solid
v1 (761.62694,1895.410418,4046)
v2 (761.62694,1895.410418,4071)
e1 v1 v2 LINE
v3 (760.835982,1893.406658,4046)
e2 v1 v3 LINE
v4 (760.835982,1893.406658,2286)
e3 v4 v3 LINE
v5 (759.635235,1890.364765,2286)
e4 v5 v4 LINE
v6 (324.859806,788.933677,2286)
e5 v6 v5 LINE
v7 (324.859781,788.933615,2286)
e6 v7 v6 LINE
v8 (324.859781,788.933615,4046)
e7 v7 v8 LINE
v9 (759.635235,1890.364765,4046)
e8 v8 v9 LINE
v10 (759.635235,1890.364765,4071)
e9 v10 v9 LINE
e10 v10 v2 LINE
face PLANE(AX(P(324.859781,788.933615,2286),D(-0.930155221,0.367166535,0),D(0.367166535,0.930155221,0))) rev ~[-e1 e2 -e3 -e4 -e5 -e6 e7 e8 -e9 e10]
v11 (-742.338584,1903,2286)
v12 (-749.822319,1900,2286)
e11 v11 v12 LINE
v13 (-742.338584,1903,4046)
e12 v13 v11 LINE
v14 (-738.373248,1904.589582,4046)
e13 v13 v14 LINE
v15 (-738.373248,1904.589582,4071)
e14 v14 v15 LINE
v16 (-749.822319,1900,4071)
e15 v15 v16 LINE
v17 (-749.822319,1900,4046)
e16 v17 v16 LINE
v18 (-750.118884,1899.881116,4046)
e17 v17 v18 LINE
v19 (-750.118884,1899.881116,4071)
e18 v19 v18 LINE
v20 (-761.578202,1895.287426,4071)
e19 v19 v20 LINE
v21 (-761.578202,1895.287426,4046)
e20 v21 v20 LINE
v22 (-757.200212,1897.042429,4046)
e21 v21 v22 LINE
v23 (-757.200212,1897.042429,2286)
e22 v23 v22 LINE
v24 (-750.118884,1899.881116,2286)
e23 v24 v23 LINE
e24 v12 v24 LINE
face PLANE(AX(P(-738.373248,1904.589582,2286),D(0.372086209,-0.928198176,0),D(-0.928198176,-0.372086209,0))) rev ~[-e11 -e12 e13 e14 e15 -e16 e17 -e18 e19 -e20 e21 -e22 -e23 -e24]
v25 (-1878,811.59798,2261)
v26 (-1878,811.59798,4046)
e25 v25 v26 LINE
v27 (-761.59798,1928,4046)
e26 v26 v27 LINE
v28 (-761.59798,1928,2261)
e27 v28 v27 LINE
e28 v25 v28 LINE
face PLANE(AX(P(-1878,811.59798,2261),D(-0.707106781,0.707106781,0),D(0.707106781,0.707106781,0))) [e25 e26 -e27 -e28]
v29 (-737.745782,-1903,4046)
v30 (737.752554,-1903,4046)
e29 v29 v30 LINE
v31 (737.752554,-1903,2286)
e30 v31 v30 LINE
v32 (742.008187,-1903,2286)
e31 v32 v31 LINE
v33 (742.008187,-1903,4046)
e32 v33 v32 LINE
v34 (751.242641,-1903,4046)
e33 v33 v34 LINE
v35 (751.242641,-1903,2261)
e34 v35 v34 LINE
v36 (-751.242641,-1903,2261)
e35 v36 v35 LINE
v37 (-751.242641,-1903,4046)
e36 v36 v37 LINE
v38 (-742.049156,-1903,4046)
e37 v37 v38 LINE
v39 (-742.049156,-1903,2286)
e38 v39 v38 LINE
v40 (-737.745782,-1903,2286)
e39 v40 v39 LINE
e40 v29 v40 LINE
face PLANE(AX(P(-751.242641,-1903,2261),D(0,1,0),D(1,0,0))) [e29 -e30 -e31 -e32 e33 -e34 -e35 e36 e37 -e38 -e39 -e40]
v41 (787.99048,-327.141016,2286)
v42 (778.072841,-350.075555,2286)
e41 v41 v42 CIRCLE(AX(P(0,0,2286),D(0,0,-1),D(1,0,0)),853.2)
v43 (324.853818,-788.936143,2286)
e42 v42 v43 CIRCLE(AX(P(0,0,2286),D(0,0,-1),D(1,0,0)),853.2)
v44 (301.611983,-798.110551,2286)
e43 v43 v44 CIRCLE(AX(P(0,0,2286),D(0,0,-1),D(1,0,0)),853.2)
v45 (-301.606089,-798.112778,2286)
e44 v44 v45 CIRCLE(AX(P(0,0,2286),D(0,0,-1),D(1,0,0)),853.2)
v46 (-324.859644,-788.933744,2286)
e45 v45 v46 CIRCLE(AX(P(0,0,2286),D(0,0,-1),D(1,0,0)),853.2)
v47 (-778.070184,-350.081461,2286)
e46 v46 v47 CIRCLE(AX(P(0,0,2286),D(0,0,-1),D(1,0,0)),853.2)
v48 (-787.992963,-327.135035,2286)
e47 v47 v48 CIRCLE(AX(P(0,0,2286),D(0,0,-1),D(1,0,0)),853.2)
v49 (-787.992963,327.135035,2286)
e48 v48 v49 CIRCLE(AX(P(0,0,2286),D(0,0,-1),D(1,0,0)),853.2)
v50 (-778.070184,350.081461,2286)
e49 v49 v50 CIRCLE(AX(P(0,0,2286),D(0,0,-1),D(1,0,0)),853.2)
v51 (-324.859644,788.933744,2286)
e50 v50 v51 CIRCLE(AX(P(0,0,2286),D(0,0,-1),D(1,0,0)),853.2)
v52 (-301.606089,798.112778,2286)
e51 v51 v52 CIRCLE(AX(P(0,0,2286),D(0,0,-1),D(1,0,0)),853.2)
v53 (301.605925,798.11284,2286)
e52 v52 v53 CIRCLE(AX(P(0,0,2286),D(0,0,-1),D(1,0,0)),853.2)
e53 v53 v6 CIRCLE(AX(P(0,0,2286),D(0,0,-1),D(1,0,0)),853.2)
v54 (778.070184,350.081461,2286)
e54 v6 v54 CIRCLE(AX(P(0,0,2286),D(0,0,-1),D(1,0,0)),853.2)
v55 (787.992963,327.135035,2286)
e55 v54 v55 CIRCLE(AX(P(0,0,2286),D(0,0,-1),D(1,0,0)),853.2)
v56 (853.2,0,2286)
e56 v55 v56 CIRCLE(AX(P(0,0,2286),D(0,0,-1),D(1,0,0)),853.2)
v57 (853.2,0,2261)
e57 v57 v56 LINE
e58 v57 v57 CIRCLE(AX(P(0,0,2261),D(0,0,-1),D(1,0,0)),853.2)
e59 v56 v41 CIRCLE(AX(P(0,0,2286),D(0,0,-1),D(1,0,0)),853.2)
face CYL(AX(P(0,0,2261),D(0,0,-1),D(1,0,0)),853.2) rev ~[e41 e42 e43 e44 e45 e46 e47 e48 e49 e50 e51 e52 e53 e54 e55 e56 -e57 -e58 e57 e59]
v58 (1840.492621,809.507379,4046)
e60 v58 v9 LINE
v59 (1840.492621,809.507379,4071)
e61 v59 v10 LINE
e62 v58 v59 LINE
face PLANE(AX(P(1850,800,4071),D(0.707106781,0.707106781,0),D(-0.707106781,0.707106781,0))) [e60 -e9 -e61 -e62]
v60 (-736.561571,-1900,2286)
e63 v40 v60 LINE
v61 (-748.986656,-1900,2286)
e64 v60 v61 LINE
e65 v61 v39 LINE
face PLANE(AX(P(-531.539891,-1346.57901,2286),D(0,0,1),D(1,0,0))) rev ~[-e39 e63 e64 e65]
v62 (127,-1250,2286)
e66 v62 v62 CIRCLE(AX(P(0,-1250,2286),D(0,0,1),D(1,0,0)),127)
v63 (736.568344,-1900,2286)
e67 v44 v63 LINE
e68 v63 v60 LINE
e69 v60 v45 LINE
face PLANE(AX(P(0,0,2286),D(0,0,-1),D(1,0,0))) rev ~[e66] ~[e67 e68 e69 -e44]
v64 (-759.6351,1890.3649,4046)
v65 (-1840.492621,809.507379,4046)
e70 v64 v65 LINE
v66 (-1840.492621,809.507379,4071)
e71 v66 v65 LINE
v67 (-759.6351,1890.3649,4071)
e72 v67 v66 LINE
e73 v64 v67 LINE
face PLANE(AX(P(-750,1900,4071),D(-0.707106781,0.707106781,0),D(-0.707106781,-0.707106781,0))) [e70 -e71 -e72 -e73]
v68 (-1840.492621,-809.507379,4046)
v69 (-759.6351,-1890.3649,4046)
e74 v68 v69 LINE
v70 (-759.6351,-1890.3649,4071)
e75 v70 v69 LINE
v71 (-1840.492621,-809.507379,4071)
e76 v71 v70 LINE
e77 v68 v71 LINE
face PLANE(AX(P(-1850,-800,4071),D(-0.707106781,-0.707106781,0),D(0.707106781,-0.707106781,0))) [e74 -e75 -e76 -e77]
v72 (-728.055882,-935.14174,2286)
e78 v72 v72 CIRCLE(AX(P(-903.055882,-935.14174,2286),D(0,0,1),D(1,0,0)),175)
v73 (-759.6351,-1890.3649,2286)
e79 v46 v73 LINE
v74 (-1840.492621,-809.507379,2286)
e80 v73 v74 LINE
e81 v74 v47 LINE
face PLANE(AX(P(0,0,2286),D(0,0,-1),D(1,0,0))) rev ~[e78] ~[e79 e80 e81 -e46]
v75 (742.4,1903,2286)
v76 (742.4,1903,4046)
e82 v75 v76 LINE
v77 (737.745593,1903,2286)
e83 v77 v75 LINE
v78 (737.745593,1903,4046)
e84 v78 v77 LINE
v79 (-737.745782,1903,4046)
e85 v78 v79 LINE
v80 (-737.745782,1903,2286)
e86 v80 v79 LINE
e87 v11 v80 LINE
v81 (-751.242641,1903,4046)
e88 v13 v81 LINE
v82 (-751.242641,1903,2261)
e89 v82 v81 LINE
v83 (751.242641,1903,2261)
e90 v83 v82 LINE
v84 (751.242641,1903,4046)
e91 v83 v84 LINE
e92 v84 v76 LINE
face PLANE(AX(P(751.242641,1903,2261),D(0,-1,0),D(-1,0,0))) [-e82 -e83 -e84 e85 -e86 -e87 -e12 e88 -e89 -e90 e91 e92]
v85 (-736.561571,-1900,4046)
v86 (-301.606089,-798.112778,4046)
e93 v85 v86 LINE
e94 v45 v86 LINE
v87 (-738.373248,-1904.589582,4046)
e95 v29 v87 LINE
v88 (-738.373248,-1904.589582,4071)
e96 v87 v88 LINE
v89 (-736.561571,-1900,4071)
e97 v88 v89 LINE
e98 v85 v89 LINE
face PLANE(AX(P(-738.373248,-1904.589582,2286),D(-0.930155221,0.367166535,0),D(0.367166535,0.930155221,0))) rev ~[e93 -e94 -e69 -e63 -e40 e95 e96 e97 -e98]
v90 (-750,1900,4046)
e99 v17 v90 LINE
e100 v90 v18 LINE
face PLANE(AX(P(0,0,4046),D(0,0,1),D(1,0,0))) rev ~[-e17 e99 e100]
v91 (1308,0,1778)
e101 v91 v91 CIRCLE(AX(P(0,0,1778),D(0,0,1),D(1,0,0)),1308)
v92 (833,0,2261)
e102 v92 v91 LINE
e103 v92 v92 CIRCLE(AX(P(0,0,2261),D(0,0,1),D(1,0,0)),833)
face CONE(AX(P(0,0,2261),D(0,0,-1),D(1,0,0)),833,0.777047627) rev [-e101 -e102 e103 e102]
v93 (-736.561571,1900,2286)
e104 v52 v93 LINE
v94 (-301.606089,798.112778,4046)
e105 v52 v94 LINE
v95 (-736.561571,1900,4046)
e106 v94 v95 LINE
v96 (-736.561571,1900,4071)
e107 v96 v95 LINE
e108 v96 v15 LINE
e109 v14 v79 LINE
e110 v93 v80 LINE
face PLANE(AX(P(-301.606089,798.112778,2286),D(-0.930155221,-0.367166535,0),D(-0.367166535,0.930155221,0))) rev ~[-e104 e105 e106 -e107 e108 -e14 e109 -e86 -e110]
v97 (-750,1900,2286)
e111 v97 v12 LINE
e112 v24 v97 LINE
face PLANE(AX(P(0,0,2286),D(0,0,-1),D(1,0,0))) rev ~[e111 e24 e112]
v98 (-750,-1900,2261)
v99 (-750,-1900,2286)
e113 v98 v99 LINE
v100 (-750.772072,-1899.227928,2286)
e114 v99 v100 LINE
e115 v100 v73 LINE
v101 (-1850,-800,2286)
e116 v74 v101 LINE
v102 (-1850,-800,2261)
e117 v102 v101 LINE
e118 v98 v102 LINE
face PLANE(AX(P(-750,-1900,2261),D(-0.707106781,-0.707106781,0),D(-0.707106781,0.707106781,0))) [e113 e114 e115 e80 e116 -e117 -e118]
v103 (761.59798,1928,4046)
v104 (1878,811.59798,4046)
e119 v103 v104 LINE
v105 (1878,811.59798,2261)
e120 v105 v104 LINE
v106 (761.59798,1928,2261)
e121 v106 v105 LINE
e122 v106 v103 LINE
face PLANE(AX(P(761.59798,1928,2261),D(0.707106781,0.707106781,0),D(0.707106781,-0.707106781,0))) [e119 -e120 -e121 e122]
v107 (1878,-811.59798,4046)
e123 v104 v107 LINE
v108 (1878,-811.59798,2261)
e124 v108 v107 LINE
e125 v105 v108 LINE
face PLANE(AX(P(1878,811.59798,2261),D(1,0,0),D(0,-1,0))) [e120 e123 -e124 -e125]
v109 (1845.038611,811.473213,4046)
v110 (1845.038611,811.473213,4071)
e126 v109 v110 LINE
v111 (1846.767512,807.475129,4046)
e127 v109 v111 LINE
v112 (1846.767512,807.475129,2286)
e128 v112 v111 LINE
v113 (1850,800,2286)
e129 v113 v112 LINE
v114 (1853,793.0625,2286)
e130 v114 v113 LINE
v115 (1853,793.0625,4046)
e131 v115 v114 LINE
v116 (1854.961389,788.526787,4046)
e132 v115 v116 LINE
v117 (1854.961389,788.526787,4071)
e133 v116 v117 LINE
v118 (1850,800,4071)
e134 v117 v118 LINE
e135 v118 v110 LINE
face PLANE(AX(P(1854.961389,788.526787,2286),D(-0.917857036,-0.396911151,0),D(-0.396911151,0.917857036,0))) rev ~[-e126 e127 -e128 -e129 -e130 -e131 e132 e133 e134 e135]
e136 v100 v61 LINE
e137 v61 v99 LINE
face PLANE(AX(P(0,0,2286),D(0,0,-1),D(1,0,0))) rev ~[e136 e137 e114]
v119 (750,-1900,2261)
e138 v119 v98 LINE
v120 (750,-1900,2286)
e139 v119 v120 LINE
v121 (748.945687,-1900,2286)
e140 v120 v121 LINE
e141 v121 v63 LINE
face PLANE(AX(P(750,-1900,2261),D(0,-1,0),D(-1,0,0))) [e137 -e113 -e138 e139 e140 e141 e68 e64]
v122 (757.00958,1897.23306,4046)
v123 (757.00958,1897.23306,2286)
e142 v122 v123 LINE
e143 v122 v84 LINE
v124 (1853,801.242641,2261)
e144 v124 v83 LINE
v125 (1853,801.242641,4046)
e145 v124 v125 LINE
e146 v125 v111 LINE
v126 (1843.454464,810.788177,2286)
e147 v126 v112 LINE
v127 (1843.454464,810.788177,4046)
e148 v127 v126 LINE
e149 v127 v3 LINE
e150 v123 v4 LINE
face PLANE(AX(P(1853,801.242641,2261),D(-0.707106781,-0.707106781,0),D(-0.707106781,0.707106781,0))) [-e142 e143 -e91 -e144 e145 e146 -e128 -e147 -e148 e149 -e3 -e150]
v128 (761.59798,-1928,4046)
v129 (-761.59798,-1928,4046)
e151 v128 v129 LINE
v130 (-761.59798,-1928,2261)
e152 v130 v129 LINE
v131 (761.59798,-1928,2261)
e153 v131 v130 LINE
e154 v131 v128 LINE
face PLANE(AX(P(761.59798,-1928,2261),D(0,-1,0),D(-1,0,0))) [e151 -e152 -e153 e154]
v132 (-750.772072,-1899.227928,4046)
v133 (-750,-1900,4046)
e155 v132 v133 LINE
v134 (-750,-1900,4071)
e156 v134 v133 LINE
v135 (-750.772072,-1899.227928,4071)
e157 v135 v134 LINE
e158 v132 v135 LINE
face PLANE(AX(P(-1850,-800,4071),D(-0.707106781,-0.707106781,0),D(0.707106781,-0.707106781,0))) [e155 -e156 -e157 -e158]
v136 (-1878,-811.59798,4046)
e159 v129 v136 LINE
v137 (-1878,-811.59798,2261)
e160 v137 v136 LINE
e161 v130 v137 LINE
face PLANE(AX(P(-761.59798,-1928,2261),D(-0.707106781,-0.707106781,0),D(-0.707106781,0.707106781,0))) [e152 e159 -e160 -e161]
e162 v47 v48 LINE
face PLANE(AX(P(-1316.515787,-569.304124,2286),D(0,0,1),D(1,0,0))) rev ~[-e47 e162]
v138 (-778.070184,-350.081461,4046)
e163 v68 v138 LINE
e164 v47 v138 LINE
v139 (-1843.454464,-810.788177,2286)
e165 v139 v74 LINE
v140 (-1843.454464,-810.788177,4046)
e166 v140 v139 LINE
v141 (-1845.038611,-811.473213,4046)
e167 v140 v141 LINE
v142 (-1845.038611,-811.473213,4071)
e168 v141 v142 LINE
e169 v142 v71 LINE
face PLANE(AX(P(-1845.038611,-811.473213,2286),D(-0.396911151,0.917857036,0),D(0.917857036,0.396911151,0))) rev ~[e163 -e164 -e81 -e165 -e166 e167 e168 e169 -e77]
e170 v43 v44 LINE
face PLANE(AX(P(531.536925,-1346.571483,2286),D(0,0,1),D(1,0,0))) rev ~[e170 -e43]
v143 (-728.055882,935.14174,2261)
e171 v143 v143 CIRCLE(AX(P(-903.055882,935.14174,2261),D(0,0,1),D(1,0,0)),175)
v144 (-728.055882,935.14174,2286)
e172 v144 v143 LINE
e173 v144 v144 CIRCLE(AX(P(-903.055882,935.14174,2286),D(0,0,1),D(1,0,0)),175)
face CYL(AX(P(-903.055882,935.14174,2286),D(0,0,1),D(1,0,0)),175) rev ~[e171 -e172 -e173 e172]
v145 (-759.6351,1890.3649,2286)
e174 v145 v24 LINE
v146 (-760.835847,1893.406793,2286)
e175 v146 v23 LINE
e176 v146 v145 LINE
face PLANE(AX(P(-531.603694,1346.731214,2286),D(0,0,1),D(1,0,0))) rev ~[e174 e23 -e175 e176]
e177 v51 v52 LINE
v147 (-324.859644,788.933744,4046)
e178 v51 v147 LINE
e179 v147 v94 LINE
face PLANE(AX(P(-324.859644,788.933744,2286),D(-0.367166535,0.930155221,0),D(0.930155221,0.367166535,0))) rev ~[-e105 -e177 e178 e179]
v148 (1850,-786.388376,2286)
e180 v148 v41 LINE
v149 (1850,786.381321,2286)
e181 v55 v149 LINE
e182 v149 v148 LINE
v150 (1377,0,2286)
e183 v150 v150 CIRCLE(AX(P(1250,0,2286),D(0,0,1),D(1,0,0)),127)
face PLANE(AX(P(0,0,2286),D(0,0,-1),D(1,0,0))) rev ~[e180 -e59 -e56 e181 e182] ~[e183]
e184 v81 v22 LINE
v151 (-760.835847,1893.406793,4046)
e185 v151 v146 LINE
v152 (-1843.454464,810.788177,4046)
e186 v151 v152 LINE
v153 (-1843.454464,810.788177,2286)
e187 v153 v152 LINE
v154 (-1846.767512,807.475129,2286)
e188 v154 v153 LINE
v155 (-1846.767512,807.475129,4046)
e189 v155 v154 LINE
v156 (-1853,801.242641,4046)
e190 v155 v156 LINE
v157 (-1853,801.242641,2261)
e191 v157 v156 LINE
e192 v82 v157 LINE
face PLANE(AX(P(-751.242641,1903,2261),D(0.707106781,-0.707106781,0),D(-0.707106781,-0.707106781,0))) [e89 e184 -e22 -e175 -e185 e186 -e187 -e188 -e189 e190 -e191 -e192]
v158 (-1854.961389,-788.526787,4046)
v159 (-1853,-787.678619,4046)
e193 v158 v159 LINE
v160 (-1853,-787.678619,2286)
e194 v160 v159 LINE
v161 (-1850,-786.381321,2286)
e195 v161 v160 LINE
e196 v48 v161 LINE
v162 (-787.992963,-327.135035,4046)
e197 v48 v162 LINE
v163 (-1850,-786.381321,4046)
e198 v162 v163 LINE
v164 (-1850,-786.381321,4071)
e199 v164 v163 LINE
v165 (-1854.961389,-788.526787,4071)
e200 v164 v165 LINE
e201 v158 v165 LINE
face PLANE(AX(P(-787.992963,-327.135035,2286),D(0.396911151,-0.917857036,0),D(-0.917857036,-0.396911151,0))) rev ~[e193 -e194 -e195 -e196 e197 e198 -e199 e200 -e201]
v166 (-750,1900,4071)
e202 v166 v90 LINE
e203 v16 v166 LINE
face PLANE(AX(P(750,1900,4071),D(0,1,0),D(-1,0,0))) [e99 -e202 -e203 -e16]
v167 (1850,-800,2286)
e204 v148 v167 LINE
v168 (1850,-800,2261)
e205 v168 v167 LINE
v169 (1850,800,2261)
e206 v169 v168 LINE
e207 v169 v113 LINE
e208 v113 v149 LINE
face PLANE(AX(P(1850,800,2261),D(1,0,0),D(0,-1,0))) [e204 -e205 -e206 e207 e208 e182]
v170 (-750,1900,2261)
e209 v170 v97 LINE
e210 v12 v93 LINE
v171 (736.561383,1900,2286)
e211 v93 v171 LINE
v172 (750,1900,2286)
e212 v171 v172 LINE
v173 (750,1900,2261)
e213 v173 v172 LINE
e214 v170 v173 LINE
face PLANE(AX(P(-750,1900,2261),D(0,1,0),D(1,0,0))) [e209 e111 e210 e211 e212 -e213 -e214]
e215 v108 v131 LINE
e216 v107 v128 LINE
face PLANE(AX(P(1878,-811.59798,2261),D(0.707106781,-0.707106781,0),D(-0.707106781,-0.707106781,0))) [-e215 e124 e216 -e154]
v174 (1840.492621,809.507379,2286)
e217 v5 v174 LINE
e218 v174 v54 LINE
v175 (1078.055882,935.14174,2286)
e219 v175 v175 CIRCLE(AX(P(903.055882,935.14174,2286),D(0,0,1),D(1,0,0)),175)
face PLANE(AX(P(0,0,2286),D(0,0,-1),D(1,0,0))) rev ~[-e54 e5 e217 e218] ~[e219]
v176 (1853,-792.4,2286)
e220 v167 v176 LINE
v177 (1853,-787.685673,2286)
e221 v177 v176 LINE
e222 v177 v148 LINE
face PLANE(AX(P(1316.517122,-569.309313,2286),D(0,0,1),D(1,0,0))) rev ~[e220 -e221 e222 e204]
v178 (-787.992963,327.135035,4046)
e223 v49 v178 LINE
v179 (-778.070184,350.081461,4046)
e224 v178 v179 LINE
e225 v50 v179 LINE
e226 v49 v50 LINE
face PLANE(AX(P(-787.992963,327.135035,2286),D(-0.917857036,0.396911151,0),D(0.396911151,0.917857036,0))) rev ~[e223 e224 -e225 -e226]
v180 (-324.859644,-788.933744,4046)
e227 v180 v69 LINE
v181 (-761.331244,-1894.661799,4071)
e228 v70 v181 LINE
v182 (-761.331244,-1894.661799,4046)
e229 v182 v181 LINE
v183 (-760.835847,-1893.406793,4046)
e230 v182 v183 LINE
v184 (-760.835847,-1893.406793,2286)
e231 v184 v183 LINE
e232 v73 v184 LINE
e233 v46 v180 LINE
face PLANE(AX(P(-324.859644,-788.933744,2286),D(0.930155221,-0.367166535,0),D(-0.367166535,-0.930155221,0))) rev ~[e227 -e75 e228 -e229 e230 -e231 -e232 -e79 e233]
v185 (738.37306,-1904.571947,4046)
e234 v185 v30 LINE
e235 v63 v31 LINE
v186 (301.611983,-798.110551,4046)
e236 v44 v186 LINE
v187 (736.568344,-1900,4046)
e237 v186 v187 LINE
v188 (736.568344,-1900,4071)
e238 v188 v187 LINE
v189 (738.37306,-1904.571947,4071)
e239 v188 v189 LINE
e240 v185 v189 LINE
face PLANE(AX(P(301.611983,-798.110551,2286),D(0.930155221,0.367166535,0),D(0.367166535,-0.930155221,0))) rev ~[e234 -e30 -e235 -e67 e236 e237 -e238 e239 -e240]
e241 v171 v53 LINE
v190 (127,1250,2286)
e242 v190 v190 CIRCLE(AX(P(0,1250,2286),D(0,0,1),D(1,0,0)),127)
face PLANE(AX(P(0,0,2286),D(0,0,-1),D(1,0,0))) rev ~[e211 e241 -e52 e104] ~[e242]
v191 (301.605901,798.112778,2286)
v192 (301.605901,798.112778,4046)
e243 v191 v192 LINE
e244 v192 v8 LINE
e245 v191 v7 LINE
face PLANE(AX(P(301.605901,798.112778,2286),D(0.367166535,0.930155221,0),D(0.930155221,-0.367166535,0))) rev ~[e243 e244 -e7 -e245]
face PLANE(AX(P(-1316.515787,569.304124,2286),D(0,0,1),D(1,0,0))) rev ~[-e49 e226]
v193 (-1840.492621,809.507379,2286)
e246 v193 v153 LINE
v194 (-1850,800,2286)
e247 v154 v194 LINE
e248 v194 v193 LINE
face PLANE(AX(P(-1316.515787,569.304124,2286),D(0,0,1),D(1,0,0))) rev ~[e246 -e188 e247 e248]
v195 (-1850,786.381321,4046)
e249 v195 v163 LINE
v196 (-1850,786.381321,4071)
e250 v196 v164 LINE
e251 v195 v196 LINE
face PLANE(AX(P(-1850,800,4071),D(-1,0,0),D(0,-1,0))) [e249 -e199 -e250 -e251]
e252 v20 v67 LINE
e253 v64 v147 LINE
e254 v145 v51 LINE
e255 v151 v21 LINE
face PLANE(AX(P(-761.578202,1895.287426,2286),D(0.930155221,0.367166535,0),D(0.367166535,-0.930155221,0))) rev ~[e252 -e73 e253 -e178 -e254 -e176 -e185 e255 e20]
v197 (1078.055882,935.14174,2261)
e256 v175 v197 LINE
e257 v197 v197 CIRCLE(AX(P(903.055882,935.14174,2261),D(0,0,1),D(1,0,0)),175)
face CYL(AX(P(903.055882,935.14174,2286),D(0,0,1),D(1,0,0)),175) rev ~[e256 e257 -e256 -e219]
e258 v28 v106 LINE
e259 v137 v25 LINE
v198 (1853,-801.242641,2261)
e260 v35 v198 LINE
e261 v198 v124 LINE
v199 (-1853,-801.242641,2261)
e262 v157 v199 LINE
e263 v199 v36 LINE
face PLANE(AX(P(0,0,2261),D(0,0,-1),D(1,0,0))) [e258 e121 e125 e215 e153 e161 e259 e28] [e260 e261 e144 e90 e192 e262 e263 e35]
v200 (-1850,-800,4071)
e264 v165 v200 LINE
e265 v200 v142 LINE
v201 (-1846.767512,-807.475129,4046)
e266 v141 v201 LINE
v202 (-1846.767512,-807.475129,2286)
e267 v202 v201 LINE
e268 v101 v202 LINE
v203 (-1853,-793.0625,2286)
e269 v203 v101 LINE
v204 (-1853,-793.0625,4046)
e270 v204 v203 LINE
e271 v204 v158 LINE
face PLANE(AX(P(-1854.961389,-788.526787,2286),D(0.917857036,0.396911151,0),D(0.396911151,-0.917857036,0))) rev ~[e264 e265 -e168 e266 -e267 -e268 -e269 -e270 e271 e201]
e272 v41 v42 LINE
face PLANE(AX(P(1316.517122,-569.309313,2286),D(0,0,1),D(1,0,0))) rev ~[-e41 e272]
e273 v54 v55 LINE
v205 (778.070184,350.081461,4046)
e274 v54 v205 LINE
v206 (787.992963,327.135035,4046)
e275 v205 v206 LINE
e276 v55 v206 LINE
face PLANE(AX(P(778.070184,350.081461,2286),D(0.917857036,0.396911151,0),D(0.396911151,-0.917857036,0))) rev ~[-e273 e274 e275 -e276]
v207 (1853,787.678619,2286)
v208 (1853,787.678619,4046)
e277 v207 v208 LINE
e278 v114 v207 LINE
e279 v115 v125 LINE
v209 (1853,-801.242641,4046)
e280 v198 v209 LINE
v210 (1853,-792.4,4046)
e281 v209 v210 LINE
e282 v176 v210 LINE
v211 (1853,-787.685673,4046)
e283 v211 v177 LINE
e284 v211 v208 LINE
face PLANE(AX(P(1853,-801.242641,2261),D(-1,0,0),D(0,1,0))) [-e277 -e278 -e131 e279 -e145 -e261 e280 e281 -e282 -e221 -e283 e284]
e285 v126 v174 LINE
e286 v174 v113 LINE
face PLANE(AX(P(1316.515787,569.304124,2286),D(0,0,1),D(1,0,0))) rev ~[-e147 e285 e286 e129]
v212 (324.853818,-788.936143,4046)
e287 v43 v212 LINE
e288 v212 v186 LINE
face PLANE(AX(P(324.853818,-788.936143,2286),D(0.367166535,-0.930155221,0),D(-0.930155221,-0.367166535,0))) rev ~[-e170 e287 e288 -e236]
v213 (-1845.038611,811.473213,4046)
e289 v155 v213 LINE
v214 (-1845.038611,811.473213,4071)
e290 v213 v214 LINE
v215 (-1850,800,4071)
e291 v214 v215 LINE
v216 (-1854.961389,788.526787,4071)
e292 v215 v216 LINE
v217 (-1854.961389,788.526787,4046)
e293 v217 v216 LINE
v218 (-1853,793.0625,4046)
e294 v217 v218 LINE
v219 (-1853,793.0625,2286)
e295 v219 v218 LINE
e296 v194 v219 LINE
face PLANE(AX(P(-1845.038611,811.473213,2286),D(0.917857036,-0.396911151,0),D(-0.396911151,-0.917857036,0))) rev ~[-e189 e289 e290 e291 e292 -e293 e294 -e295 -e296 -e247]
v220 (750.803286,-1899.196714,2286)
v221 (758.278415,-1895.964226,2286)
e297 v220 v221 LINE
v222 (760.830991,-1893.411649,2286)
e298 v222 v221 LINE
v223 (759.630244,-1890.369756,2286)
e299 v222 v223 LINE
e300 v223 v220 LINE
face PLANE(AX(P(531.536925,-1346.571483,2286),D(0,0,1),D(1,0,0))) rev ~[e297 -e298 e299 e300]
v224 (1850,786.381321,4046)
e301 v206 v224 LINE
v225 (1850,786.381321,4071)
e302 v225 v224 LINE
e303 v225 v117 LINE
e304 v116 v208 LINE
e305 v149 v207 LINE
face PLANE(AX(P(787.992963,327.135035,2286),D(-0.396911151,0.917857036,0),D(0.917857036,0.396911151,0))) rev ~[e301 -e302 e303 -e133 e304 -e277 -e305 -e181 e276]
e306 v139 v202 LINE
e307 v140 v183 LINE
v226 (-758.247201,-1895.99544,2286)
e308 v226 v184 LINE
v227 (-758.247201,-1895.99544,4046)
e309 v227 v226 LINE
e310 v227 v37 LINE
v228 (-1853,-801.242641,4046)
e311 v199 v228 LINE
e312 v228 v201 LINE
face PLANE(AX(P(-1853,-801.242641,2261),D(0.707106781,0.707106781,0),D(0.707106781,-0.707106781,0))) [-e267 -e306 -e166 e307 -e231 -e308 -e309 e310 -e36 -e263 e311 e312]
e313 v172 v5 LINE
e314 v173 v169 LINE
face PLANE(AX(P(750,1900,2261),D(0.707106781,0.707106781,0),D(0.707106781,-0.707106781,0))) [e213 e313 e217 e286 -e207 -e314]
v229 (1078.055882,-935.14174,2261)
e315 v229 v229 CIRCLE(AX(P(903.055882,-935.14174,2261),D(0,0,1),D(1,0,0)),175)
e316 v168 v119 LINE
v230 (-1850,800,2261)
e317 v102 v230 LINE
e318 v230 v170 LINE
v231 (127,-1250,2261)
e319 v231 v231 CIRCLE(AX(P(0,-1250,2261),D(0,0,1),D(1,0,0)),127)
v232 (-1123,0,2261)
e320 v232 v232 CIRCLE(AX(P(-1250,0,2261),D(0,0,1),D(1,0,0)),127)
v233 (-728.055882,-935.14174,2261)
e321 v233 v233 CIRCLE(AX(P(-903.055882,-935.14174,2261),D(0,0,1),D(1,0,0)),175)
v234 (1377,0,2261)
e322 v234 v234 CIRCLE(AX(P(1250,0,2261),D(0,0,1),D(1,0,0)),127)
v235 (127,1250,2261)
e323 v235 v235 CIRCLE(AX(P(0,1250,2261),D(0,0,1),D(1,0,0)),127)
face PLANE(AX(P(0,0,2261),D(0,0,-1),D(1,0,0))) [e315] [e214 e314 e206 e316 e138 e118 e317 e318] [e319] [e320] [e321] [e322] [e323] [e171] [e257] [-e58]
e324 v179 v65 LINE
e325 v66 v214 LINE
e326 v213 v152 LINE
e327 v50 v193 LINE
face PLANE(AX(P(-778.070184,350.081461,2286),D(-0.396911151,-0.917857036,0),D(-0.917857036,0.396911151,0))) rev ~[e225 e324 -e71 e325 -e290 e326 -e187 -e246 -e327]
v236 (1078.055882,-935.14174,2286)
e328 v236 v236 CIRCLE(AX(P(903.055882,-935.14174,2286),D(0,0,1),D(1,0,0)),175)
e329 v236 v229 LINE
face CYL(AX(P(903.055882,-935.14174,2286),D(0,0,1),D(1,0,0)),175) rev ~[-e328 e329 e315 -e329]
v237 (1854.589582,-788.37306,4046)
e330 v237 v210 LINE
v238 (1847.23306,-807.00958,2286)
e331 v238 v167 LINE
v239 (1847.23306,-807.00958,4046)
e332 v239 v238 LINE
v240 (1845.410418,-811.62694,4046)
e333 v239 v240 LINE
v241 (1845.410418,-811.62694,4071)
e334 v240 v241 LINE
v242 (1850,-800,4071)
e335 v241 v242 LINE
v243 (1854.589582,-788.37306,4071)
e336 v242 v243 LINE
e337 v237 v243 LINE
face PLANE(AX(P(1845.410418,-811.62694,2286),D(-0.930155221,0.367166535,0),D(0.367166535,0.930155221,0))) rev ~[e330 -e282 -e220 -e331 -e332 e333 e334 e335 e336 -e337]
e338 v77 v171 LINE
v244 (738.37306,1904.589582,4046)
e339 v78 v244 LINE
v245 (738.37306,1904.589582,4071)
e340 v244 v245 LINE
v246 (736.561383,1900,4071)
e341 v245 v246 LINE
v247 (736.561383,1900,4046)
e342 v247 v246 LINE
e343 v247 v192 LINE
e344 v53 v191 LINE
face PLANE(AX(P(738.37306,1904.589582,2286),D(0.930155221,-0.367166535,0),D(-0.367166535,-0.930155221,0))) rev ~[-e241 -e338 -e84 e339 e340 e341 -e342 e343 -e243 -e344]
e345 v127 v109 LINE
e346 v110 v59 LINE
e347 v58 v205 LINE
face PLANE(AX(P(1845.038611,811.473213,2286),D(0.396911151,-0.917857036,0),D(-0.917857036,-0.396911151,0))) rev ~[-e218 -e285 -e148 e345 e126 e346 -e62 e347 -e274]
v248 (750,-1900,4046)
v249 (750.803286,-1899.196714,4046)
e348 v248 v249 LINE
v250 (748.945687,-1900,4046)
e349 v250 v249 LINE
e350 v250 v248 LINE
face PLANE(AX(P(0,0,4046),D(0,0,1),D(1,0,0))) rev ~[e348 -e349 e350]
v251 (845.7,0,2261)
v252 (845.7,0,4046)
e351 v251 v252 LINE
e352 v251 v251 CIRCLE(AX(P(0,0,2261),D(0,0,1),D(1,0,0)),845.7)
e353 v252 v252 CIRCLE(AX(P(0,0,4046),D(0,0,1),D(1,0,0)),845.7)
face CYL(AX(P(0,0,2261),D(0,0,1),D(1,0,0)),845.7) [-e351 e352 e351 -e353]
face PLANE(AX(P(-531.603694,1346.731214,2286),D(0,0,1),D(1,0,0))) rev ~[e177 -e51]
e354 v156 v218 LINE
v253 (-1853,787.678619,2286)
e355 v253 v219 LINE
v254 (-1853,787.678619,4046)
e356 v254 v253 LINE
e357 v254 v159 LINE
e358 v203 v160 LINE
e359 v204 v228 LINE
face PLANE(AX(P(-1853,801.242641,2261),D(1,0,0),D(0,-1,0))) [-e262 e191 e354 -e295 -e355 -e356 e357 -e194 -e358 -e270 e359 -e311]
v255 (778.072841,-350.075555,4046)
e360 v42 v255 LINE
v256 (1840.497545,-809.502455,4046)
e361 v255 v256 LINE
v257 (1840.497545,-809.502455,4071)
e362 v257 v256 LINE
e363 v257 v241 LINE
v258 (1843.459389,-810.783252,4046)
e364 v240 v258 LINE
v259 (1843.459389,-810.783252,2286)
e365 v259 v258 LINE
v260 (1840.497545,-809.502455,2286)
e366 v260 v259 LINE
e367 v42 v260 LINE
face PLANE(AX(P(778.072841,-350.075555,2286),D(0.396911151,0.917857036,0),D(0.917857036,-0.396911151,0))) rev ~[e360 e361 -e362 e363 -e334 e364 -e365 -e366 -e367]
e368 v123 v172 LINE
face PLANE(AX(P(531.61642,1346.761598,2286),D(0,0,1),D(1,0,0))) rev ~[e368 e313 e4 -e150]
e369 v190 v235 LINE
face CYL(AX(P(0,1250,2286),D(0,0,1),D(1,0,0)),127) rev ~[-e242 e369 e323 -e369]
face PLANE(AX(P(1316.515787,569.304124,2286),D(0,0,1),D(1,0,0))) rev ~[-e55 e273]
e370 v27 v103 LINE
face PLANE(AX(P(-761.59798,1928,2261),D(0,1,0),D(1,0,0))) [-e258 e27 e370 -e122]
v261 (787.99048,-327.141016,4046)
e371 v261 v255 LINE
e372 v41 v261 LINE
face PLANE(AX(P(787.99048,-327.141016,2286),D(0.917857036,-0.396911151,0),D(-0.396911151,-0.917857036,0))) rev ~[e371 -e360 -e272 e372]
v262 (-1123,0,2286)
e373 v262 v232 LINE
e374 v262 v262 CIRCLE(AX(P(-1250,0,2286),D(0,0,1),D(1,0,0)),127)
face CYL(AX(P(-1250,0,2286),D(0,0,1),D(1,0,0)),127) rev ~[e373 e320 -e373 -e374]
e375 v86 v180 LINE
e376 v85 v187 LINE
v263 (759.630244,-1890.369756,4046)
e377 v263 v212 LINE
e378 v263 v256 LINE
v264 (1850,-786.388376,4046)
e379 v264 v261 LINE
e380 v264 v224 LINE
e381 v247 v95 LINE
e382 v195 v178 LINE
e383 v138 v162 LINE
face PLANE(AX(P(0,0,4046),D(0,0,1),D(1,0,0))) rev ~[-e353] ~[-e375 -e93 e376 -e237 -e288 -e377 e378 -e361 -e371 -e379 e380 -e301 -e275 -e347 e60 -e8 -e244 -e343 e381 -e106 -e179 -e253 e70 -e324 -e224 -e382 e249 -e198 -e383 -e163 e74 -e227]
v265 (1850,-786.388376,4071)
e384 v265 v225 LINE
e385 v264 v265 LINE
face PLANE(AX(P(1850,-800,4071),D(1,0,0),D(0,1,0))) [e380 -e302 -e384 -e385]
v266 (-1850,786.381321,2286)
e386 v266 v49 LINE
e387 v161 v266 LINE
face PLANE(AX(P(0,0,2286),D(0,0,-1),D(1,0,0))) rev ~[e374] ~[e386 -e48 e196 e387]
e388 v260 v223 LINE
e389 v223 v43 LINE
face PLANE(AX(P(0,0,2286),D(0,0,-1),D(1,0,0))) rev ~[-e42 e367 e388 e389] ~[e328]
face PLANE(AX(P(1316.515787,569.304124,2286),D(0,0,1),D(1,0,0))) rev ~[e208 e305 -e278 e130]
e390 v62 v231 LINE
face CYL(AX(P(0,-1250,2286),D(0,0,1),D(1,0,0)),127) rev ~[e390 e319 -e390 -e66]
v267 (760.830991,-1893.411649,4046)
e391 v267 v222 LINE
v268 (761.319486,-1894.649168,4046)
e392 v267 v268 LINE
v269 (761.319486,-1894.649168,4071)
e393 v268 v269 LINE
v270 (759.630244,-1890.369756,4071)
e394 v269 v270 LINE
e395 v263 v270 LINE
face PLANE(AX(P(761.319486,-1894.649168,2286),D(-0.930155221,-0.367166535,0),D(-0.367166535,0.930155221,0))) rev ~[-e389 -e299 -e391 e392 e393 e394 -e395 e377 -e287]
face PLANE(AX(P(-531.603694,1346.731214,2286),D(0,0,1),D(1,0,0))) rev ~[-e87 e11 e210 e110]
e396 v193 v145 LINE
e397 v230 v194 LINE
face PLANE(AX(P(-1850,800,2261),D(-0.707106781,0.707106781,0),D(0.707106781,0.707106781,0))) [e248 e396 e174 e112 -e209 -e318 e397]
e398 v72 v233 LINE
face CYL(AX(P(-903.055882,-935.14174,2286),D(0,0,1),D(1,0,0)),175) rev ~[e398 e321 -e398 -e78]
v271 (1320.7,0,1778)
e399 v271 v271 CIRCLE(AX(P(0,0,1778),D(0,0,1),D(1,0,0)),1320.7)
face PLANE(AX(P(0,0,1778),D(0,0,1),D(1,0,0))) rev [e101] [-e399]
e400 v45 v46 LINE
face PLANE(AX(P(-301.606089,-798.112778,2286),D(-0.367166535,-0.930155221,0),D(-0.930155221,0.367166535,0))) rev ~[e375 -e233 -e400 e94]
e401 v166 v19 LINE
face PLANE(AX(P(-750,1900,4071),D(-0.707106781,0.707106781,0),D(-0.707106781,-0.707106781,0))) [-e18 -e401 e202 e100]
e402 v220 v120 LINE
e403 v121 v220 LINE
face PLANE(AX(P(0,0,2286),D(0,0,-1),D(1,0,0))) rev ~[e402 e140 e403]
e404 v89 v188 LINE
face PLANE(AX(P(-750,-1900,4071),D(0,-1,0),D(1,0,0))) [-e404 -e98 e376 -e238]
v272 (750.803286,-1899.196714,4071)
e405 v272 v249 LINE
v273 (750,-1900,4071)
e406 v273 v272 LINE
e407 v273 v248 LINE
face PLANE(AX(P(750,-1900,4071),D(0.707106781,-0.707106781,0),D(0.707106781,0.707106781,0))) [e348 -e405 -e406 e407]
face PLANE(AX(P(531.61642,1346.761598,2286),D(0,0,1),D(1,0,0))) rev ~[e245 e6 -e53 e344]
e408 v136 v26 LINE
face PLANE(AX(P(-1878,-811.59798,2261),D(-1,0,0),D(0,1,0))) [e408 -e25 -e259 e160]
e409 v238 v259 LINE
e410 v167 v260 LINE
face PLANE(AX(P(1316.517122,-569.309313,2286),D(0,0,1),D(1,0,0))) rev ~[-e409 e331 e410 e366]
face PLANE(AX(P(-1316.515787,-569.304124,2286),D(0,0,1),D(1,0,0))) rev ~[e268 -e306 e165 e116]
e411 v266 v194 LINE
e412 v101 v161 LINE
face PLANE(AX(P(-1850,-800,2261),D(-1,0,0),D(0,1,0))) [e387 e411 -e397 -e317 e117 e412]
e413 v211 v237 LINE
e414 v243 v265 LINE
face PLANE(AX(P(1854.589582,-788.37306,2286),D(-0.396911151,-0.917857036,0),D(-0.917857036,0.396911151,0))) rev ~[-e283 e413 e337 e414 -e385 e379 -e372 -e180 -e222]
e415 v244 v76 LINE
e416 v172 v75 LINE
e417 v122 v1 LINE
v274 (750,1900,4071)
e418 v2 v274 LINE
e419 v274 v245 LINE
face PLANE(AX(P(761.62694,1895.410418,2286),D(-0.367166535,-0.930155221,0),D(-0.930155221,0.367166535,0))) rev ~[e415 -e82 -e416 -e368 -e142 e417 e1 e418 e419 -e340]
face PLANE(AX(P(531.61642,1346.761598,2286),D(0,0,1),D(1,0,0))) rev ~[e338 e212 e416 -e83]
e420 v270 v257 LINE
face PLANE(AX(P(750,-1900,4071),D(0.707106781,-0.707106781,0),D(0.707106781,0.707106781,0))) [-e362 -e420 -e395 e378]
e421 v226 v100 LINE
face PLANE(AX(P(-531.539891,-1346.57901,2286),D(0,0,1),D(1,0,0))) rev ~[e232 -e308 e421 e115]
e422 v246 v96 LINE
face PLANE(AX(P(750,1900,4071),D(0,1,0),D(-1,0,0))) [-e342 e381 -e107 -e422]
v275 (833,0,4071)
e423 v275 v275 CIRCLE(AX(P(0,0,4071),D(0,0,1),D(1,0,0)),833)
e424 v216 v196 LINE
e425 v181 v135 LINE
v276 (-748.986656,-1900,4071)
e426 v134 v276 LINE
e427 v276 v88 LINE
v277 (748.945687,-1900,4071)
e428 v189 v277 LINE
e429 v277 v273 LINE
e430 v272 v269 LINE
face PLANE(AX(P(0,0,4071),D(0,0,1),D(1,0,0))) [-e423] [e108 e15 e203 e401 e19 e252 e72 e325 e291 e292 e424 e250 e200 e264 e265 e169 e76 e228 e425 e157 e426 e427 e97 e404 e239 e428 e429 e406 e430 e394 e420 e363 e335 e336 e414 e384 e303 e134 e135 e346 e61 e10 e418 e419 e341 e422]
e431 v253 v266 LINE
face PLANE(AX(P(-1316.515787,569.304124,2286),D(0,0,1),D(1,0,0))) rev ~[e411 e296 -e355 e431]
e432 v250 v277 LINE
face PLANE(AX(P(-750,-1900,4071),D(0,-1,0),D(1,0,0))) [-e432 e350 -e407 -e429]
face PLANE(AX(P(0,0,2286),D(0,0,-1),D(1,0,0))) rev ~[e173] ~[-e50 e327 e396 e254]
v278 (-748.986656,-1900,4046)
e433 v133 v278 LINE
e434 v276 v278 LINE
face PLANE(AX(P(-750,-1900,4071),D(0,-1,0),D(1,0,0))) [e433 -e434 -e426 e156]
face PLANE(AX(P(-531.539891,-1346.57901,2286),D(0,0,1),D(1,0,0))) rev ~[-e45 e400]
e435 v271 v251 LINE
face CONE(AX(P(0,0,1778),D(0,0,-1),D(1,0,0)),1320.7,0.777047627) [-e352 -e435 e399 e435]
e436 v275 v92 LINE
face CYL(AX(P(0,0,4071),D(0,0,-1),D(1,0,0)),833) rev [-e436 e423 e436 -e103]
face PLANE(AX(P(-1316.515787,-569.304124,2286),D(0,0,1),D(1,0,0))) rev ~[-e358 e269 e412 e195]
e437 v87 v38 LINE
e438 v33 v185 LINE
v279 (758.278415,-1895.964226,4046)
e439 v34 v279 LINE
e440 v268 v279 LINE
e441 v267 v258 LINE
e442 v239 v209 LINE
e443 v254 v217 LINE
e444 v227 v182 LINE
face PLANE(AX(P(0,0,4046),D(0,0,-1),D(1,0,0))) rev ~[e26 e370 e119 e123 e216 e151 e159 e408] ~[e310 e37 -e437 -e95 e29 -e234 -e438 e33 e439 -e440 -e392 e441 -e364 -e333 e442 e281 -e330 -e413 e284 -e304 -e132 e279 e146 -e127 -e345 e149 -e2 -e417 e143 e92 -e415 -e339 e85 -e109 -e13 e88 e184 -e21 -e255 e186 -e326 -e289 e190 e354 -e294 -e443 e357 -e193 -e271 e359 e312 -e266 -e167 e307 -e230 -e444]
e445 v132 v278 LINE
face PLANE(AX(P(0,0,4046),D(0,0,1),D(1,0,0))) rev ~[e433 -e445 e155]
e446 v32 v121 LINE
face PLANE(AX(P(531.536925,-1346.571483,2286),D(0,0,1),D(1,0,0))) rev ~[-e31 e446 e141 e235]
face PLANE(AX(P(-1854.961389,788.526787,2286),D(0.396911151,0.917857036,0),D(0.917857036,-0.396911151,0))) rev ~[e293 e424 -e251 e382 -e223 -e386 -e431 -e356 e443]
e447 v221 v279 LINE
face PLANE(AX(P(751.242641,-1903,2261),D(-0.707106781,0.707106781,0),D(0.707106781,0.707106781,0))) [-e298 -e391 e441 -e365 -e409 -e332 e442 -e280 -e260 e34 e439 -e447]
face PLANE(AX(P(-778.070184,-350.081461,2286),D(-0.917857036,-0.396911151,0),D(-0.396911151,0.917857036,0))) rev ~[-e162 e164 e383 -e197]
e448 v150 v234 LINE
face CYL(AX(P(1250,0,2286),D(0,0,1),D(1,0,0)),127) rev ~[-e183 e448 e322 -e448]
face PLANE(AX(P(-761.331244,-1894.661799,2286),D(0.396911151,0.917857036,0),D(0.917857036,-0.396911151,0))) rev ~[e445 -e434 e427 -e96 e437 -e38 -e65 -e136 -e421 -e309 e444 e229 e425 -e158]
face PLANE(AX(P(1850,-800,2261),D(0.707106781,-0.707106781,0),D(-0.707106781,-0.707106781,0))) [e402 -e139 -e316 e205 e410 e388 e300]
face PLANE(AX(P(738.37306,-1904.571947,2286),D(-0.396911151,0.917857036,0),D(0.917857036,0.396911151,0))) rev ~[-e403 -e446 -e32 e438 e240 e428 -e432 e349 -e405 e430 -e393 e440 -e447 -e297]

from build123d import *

# Parameters (mm, degrees)
F3_R      = 853.2
F4_DEPTH  = 25
F5_R      = 127
F6_DEPTH  = 25
F7_R      = 175
F8_DEPTH  = 25
F11_DEPTH = 1785
F12_R     = 845.7
F13_DEPTH = 25
F16_DEPTH = 1785


with BuildPart() as f1:
    # F0 (on Front) → F1 (revolve)
    with BuildSketch(Plane.XZ):
        Polygon((845.7, 4071), (833, 4071), (833, 2261), (1308, 1778), (1320.7, 1778), (845.7, 2261), align=None)
    revolve(axis=Axis((0, 0, 40.9754104912), (0, 0, 1)))



with BuildPart() as f4:
    # F3 (on offset) → F4 (new body)
    with BuildSketch(Plane(origin=(0, 0, 2261), x_dir=(1, 0, 0), z_dir=(0, 0, -1))):
        Polygon((-1850, -800), (-750, -1900), (750, -1900), (1850, -800), (1850, 800), (750, 1900), (-750, 1900), (-1850, 800), align=None)
        Circle(F3_R, mode=Mode.SUBTRACT)
    extrude(amount=-F4_DEPTH)

    # F5 (on face) → F6 (cut, through all)
    with BuildSketch(Plane.XY.offset(2286)):
        with Locations((0, 1250)):
            Circle(F5_R)
        with Locations((-1250, 0)):
            Circle(F5_R)
        with Locations((0, -1250)):
            Circle(F5_R)
        with Locations((1250, 0)):
            Circle(F5_R)
    extrude(amount=-F6_DEPTH, mode=Mode.SUBTRACT)

    # F7 (on face) → F8 (cut, through all)
    with BuildSketch(Plane.XY.offset(2286)):
        with Locations((-903.0558815967, 935.1417404402)):
            Circle(F7_R)
        with Locations((903.0558815967, 935.1417404402)):
            Circle(F7_R)
        with Locations((-903.0558815967, -935.1417404402)):
            Circle(F7_R)
        with Locations((903.0558815967, -935.1417404402)):
            Circle(F7_R)
    extrude(amount=-F8_DEPTH, mode=Mode.SUBTRACT)

    # F10 (on face) → F11 (join, through all)
    with BuildSketch(Plane.XY.offset(2286)):
        Polygon((-778.0701837337, 350.081460784), (-1845.0386106164, 811.4732129495), (-1854.9613893836, 788.5267870505), (-787.9929625008, 327.135034885), align=None)
        Polygon((-301.6060889253, 798.1127784487), (-738.3732480972, 1904.5895816842), (-761.5782024883, 1895.2874264656), (-324.859643518, 788.9337437411), align=None)
        Polygon((761.6269402666, 1895.4104183158), (738.3730597334, 1904.5895816842), (301.6059005615, 798.1127784487), (324.8597810947, 788.9336150803), align=None)
        Polygon((1854.9613893836, 788.5267870505), (1845.0386106164, 811.4732129495), (778.0701837337, 350.081460784), (787.9929625008, 327.135034885), align=None)
        Polygon((-787.9929625008, -327.135034885), (-1854.9613893836, -788.5267870505), (-1845.0386106164, -811.4732129495), (-778.0701837337, -350.081460784), align=None)
        Polygon((-324.859643518, -788.9337437411), (-761.3312444642, -1894.6617994714), (-738.3732480972, -1904.5895816842), (-301.6060889253, -798.1127784487), align=None)
        Polygon((738.3730597334, -1904.5719468468), (761.3194856324, -1894.6491680797), (324.8538176881, -788.9361426209), (301.6119825201, -798.1105512398), align=None)
        Polygon((1845.4104183158, -811.6269402666), (1854.5895816842, -788.3730597334), (787.9904795888, -327.141015584), (778.0728407593, -350.0755553773), align=None)
    extrude(amount=F11_DEPTH)


with BuildPart() as f1_1:
    add(f1.part)

    add(f4.part)  # F13 merges F4
    # F12 (on face) → F13 (join)
    with BuildSketch(Plane.XY.offset(4071)):
        Polygon((-750, 1900), (-1850, 800), (-1850, -800), (-750, -1900), (750, -1900), (1850, -800), (1850, 800), (750, 1900), align=None)
        Circle(F12_R, mode=Mode.SUBTRACT)
    extrude(amount=-F13_DEPTH)

    # F14: union 

    # F15 (on face) → F16 (join, through all)
    with BuildSketch(Plane(origin=(0, 0, 2261), x_dir=(1, 0, 0), z_dir=(0, 0, -1))):
        Polygon((-761.5979797464, -1928), (761.5979797464, -1928), (1878, -811.5979797464), (1878, 811.5979797464), (761.5979797464, 1928), (-761.5979797464, 1928), (-1878, 811.5979797464), (-1878, -811.5979797464), align=None)
        Polygon((1853, -801.2426406871), (751.2426406871, -1903), (-751.2426406871, -1903), (-1853, -801.2426406871), (-1853, 801.2426406871), (-751.2426406871, 1903), (751.2426406871, 1903), (1853, 801.2426406871), align=None, mode=Mode.SUBTRACT)
    extrude(amount=-F16_DEPTH)


solid = f1_1.part
